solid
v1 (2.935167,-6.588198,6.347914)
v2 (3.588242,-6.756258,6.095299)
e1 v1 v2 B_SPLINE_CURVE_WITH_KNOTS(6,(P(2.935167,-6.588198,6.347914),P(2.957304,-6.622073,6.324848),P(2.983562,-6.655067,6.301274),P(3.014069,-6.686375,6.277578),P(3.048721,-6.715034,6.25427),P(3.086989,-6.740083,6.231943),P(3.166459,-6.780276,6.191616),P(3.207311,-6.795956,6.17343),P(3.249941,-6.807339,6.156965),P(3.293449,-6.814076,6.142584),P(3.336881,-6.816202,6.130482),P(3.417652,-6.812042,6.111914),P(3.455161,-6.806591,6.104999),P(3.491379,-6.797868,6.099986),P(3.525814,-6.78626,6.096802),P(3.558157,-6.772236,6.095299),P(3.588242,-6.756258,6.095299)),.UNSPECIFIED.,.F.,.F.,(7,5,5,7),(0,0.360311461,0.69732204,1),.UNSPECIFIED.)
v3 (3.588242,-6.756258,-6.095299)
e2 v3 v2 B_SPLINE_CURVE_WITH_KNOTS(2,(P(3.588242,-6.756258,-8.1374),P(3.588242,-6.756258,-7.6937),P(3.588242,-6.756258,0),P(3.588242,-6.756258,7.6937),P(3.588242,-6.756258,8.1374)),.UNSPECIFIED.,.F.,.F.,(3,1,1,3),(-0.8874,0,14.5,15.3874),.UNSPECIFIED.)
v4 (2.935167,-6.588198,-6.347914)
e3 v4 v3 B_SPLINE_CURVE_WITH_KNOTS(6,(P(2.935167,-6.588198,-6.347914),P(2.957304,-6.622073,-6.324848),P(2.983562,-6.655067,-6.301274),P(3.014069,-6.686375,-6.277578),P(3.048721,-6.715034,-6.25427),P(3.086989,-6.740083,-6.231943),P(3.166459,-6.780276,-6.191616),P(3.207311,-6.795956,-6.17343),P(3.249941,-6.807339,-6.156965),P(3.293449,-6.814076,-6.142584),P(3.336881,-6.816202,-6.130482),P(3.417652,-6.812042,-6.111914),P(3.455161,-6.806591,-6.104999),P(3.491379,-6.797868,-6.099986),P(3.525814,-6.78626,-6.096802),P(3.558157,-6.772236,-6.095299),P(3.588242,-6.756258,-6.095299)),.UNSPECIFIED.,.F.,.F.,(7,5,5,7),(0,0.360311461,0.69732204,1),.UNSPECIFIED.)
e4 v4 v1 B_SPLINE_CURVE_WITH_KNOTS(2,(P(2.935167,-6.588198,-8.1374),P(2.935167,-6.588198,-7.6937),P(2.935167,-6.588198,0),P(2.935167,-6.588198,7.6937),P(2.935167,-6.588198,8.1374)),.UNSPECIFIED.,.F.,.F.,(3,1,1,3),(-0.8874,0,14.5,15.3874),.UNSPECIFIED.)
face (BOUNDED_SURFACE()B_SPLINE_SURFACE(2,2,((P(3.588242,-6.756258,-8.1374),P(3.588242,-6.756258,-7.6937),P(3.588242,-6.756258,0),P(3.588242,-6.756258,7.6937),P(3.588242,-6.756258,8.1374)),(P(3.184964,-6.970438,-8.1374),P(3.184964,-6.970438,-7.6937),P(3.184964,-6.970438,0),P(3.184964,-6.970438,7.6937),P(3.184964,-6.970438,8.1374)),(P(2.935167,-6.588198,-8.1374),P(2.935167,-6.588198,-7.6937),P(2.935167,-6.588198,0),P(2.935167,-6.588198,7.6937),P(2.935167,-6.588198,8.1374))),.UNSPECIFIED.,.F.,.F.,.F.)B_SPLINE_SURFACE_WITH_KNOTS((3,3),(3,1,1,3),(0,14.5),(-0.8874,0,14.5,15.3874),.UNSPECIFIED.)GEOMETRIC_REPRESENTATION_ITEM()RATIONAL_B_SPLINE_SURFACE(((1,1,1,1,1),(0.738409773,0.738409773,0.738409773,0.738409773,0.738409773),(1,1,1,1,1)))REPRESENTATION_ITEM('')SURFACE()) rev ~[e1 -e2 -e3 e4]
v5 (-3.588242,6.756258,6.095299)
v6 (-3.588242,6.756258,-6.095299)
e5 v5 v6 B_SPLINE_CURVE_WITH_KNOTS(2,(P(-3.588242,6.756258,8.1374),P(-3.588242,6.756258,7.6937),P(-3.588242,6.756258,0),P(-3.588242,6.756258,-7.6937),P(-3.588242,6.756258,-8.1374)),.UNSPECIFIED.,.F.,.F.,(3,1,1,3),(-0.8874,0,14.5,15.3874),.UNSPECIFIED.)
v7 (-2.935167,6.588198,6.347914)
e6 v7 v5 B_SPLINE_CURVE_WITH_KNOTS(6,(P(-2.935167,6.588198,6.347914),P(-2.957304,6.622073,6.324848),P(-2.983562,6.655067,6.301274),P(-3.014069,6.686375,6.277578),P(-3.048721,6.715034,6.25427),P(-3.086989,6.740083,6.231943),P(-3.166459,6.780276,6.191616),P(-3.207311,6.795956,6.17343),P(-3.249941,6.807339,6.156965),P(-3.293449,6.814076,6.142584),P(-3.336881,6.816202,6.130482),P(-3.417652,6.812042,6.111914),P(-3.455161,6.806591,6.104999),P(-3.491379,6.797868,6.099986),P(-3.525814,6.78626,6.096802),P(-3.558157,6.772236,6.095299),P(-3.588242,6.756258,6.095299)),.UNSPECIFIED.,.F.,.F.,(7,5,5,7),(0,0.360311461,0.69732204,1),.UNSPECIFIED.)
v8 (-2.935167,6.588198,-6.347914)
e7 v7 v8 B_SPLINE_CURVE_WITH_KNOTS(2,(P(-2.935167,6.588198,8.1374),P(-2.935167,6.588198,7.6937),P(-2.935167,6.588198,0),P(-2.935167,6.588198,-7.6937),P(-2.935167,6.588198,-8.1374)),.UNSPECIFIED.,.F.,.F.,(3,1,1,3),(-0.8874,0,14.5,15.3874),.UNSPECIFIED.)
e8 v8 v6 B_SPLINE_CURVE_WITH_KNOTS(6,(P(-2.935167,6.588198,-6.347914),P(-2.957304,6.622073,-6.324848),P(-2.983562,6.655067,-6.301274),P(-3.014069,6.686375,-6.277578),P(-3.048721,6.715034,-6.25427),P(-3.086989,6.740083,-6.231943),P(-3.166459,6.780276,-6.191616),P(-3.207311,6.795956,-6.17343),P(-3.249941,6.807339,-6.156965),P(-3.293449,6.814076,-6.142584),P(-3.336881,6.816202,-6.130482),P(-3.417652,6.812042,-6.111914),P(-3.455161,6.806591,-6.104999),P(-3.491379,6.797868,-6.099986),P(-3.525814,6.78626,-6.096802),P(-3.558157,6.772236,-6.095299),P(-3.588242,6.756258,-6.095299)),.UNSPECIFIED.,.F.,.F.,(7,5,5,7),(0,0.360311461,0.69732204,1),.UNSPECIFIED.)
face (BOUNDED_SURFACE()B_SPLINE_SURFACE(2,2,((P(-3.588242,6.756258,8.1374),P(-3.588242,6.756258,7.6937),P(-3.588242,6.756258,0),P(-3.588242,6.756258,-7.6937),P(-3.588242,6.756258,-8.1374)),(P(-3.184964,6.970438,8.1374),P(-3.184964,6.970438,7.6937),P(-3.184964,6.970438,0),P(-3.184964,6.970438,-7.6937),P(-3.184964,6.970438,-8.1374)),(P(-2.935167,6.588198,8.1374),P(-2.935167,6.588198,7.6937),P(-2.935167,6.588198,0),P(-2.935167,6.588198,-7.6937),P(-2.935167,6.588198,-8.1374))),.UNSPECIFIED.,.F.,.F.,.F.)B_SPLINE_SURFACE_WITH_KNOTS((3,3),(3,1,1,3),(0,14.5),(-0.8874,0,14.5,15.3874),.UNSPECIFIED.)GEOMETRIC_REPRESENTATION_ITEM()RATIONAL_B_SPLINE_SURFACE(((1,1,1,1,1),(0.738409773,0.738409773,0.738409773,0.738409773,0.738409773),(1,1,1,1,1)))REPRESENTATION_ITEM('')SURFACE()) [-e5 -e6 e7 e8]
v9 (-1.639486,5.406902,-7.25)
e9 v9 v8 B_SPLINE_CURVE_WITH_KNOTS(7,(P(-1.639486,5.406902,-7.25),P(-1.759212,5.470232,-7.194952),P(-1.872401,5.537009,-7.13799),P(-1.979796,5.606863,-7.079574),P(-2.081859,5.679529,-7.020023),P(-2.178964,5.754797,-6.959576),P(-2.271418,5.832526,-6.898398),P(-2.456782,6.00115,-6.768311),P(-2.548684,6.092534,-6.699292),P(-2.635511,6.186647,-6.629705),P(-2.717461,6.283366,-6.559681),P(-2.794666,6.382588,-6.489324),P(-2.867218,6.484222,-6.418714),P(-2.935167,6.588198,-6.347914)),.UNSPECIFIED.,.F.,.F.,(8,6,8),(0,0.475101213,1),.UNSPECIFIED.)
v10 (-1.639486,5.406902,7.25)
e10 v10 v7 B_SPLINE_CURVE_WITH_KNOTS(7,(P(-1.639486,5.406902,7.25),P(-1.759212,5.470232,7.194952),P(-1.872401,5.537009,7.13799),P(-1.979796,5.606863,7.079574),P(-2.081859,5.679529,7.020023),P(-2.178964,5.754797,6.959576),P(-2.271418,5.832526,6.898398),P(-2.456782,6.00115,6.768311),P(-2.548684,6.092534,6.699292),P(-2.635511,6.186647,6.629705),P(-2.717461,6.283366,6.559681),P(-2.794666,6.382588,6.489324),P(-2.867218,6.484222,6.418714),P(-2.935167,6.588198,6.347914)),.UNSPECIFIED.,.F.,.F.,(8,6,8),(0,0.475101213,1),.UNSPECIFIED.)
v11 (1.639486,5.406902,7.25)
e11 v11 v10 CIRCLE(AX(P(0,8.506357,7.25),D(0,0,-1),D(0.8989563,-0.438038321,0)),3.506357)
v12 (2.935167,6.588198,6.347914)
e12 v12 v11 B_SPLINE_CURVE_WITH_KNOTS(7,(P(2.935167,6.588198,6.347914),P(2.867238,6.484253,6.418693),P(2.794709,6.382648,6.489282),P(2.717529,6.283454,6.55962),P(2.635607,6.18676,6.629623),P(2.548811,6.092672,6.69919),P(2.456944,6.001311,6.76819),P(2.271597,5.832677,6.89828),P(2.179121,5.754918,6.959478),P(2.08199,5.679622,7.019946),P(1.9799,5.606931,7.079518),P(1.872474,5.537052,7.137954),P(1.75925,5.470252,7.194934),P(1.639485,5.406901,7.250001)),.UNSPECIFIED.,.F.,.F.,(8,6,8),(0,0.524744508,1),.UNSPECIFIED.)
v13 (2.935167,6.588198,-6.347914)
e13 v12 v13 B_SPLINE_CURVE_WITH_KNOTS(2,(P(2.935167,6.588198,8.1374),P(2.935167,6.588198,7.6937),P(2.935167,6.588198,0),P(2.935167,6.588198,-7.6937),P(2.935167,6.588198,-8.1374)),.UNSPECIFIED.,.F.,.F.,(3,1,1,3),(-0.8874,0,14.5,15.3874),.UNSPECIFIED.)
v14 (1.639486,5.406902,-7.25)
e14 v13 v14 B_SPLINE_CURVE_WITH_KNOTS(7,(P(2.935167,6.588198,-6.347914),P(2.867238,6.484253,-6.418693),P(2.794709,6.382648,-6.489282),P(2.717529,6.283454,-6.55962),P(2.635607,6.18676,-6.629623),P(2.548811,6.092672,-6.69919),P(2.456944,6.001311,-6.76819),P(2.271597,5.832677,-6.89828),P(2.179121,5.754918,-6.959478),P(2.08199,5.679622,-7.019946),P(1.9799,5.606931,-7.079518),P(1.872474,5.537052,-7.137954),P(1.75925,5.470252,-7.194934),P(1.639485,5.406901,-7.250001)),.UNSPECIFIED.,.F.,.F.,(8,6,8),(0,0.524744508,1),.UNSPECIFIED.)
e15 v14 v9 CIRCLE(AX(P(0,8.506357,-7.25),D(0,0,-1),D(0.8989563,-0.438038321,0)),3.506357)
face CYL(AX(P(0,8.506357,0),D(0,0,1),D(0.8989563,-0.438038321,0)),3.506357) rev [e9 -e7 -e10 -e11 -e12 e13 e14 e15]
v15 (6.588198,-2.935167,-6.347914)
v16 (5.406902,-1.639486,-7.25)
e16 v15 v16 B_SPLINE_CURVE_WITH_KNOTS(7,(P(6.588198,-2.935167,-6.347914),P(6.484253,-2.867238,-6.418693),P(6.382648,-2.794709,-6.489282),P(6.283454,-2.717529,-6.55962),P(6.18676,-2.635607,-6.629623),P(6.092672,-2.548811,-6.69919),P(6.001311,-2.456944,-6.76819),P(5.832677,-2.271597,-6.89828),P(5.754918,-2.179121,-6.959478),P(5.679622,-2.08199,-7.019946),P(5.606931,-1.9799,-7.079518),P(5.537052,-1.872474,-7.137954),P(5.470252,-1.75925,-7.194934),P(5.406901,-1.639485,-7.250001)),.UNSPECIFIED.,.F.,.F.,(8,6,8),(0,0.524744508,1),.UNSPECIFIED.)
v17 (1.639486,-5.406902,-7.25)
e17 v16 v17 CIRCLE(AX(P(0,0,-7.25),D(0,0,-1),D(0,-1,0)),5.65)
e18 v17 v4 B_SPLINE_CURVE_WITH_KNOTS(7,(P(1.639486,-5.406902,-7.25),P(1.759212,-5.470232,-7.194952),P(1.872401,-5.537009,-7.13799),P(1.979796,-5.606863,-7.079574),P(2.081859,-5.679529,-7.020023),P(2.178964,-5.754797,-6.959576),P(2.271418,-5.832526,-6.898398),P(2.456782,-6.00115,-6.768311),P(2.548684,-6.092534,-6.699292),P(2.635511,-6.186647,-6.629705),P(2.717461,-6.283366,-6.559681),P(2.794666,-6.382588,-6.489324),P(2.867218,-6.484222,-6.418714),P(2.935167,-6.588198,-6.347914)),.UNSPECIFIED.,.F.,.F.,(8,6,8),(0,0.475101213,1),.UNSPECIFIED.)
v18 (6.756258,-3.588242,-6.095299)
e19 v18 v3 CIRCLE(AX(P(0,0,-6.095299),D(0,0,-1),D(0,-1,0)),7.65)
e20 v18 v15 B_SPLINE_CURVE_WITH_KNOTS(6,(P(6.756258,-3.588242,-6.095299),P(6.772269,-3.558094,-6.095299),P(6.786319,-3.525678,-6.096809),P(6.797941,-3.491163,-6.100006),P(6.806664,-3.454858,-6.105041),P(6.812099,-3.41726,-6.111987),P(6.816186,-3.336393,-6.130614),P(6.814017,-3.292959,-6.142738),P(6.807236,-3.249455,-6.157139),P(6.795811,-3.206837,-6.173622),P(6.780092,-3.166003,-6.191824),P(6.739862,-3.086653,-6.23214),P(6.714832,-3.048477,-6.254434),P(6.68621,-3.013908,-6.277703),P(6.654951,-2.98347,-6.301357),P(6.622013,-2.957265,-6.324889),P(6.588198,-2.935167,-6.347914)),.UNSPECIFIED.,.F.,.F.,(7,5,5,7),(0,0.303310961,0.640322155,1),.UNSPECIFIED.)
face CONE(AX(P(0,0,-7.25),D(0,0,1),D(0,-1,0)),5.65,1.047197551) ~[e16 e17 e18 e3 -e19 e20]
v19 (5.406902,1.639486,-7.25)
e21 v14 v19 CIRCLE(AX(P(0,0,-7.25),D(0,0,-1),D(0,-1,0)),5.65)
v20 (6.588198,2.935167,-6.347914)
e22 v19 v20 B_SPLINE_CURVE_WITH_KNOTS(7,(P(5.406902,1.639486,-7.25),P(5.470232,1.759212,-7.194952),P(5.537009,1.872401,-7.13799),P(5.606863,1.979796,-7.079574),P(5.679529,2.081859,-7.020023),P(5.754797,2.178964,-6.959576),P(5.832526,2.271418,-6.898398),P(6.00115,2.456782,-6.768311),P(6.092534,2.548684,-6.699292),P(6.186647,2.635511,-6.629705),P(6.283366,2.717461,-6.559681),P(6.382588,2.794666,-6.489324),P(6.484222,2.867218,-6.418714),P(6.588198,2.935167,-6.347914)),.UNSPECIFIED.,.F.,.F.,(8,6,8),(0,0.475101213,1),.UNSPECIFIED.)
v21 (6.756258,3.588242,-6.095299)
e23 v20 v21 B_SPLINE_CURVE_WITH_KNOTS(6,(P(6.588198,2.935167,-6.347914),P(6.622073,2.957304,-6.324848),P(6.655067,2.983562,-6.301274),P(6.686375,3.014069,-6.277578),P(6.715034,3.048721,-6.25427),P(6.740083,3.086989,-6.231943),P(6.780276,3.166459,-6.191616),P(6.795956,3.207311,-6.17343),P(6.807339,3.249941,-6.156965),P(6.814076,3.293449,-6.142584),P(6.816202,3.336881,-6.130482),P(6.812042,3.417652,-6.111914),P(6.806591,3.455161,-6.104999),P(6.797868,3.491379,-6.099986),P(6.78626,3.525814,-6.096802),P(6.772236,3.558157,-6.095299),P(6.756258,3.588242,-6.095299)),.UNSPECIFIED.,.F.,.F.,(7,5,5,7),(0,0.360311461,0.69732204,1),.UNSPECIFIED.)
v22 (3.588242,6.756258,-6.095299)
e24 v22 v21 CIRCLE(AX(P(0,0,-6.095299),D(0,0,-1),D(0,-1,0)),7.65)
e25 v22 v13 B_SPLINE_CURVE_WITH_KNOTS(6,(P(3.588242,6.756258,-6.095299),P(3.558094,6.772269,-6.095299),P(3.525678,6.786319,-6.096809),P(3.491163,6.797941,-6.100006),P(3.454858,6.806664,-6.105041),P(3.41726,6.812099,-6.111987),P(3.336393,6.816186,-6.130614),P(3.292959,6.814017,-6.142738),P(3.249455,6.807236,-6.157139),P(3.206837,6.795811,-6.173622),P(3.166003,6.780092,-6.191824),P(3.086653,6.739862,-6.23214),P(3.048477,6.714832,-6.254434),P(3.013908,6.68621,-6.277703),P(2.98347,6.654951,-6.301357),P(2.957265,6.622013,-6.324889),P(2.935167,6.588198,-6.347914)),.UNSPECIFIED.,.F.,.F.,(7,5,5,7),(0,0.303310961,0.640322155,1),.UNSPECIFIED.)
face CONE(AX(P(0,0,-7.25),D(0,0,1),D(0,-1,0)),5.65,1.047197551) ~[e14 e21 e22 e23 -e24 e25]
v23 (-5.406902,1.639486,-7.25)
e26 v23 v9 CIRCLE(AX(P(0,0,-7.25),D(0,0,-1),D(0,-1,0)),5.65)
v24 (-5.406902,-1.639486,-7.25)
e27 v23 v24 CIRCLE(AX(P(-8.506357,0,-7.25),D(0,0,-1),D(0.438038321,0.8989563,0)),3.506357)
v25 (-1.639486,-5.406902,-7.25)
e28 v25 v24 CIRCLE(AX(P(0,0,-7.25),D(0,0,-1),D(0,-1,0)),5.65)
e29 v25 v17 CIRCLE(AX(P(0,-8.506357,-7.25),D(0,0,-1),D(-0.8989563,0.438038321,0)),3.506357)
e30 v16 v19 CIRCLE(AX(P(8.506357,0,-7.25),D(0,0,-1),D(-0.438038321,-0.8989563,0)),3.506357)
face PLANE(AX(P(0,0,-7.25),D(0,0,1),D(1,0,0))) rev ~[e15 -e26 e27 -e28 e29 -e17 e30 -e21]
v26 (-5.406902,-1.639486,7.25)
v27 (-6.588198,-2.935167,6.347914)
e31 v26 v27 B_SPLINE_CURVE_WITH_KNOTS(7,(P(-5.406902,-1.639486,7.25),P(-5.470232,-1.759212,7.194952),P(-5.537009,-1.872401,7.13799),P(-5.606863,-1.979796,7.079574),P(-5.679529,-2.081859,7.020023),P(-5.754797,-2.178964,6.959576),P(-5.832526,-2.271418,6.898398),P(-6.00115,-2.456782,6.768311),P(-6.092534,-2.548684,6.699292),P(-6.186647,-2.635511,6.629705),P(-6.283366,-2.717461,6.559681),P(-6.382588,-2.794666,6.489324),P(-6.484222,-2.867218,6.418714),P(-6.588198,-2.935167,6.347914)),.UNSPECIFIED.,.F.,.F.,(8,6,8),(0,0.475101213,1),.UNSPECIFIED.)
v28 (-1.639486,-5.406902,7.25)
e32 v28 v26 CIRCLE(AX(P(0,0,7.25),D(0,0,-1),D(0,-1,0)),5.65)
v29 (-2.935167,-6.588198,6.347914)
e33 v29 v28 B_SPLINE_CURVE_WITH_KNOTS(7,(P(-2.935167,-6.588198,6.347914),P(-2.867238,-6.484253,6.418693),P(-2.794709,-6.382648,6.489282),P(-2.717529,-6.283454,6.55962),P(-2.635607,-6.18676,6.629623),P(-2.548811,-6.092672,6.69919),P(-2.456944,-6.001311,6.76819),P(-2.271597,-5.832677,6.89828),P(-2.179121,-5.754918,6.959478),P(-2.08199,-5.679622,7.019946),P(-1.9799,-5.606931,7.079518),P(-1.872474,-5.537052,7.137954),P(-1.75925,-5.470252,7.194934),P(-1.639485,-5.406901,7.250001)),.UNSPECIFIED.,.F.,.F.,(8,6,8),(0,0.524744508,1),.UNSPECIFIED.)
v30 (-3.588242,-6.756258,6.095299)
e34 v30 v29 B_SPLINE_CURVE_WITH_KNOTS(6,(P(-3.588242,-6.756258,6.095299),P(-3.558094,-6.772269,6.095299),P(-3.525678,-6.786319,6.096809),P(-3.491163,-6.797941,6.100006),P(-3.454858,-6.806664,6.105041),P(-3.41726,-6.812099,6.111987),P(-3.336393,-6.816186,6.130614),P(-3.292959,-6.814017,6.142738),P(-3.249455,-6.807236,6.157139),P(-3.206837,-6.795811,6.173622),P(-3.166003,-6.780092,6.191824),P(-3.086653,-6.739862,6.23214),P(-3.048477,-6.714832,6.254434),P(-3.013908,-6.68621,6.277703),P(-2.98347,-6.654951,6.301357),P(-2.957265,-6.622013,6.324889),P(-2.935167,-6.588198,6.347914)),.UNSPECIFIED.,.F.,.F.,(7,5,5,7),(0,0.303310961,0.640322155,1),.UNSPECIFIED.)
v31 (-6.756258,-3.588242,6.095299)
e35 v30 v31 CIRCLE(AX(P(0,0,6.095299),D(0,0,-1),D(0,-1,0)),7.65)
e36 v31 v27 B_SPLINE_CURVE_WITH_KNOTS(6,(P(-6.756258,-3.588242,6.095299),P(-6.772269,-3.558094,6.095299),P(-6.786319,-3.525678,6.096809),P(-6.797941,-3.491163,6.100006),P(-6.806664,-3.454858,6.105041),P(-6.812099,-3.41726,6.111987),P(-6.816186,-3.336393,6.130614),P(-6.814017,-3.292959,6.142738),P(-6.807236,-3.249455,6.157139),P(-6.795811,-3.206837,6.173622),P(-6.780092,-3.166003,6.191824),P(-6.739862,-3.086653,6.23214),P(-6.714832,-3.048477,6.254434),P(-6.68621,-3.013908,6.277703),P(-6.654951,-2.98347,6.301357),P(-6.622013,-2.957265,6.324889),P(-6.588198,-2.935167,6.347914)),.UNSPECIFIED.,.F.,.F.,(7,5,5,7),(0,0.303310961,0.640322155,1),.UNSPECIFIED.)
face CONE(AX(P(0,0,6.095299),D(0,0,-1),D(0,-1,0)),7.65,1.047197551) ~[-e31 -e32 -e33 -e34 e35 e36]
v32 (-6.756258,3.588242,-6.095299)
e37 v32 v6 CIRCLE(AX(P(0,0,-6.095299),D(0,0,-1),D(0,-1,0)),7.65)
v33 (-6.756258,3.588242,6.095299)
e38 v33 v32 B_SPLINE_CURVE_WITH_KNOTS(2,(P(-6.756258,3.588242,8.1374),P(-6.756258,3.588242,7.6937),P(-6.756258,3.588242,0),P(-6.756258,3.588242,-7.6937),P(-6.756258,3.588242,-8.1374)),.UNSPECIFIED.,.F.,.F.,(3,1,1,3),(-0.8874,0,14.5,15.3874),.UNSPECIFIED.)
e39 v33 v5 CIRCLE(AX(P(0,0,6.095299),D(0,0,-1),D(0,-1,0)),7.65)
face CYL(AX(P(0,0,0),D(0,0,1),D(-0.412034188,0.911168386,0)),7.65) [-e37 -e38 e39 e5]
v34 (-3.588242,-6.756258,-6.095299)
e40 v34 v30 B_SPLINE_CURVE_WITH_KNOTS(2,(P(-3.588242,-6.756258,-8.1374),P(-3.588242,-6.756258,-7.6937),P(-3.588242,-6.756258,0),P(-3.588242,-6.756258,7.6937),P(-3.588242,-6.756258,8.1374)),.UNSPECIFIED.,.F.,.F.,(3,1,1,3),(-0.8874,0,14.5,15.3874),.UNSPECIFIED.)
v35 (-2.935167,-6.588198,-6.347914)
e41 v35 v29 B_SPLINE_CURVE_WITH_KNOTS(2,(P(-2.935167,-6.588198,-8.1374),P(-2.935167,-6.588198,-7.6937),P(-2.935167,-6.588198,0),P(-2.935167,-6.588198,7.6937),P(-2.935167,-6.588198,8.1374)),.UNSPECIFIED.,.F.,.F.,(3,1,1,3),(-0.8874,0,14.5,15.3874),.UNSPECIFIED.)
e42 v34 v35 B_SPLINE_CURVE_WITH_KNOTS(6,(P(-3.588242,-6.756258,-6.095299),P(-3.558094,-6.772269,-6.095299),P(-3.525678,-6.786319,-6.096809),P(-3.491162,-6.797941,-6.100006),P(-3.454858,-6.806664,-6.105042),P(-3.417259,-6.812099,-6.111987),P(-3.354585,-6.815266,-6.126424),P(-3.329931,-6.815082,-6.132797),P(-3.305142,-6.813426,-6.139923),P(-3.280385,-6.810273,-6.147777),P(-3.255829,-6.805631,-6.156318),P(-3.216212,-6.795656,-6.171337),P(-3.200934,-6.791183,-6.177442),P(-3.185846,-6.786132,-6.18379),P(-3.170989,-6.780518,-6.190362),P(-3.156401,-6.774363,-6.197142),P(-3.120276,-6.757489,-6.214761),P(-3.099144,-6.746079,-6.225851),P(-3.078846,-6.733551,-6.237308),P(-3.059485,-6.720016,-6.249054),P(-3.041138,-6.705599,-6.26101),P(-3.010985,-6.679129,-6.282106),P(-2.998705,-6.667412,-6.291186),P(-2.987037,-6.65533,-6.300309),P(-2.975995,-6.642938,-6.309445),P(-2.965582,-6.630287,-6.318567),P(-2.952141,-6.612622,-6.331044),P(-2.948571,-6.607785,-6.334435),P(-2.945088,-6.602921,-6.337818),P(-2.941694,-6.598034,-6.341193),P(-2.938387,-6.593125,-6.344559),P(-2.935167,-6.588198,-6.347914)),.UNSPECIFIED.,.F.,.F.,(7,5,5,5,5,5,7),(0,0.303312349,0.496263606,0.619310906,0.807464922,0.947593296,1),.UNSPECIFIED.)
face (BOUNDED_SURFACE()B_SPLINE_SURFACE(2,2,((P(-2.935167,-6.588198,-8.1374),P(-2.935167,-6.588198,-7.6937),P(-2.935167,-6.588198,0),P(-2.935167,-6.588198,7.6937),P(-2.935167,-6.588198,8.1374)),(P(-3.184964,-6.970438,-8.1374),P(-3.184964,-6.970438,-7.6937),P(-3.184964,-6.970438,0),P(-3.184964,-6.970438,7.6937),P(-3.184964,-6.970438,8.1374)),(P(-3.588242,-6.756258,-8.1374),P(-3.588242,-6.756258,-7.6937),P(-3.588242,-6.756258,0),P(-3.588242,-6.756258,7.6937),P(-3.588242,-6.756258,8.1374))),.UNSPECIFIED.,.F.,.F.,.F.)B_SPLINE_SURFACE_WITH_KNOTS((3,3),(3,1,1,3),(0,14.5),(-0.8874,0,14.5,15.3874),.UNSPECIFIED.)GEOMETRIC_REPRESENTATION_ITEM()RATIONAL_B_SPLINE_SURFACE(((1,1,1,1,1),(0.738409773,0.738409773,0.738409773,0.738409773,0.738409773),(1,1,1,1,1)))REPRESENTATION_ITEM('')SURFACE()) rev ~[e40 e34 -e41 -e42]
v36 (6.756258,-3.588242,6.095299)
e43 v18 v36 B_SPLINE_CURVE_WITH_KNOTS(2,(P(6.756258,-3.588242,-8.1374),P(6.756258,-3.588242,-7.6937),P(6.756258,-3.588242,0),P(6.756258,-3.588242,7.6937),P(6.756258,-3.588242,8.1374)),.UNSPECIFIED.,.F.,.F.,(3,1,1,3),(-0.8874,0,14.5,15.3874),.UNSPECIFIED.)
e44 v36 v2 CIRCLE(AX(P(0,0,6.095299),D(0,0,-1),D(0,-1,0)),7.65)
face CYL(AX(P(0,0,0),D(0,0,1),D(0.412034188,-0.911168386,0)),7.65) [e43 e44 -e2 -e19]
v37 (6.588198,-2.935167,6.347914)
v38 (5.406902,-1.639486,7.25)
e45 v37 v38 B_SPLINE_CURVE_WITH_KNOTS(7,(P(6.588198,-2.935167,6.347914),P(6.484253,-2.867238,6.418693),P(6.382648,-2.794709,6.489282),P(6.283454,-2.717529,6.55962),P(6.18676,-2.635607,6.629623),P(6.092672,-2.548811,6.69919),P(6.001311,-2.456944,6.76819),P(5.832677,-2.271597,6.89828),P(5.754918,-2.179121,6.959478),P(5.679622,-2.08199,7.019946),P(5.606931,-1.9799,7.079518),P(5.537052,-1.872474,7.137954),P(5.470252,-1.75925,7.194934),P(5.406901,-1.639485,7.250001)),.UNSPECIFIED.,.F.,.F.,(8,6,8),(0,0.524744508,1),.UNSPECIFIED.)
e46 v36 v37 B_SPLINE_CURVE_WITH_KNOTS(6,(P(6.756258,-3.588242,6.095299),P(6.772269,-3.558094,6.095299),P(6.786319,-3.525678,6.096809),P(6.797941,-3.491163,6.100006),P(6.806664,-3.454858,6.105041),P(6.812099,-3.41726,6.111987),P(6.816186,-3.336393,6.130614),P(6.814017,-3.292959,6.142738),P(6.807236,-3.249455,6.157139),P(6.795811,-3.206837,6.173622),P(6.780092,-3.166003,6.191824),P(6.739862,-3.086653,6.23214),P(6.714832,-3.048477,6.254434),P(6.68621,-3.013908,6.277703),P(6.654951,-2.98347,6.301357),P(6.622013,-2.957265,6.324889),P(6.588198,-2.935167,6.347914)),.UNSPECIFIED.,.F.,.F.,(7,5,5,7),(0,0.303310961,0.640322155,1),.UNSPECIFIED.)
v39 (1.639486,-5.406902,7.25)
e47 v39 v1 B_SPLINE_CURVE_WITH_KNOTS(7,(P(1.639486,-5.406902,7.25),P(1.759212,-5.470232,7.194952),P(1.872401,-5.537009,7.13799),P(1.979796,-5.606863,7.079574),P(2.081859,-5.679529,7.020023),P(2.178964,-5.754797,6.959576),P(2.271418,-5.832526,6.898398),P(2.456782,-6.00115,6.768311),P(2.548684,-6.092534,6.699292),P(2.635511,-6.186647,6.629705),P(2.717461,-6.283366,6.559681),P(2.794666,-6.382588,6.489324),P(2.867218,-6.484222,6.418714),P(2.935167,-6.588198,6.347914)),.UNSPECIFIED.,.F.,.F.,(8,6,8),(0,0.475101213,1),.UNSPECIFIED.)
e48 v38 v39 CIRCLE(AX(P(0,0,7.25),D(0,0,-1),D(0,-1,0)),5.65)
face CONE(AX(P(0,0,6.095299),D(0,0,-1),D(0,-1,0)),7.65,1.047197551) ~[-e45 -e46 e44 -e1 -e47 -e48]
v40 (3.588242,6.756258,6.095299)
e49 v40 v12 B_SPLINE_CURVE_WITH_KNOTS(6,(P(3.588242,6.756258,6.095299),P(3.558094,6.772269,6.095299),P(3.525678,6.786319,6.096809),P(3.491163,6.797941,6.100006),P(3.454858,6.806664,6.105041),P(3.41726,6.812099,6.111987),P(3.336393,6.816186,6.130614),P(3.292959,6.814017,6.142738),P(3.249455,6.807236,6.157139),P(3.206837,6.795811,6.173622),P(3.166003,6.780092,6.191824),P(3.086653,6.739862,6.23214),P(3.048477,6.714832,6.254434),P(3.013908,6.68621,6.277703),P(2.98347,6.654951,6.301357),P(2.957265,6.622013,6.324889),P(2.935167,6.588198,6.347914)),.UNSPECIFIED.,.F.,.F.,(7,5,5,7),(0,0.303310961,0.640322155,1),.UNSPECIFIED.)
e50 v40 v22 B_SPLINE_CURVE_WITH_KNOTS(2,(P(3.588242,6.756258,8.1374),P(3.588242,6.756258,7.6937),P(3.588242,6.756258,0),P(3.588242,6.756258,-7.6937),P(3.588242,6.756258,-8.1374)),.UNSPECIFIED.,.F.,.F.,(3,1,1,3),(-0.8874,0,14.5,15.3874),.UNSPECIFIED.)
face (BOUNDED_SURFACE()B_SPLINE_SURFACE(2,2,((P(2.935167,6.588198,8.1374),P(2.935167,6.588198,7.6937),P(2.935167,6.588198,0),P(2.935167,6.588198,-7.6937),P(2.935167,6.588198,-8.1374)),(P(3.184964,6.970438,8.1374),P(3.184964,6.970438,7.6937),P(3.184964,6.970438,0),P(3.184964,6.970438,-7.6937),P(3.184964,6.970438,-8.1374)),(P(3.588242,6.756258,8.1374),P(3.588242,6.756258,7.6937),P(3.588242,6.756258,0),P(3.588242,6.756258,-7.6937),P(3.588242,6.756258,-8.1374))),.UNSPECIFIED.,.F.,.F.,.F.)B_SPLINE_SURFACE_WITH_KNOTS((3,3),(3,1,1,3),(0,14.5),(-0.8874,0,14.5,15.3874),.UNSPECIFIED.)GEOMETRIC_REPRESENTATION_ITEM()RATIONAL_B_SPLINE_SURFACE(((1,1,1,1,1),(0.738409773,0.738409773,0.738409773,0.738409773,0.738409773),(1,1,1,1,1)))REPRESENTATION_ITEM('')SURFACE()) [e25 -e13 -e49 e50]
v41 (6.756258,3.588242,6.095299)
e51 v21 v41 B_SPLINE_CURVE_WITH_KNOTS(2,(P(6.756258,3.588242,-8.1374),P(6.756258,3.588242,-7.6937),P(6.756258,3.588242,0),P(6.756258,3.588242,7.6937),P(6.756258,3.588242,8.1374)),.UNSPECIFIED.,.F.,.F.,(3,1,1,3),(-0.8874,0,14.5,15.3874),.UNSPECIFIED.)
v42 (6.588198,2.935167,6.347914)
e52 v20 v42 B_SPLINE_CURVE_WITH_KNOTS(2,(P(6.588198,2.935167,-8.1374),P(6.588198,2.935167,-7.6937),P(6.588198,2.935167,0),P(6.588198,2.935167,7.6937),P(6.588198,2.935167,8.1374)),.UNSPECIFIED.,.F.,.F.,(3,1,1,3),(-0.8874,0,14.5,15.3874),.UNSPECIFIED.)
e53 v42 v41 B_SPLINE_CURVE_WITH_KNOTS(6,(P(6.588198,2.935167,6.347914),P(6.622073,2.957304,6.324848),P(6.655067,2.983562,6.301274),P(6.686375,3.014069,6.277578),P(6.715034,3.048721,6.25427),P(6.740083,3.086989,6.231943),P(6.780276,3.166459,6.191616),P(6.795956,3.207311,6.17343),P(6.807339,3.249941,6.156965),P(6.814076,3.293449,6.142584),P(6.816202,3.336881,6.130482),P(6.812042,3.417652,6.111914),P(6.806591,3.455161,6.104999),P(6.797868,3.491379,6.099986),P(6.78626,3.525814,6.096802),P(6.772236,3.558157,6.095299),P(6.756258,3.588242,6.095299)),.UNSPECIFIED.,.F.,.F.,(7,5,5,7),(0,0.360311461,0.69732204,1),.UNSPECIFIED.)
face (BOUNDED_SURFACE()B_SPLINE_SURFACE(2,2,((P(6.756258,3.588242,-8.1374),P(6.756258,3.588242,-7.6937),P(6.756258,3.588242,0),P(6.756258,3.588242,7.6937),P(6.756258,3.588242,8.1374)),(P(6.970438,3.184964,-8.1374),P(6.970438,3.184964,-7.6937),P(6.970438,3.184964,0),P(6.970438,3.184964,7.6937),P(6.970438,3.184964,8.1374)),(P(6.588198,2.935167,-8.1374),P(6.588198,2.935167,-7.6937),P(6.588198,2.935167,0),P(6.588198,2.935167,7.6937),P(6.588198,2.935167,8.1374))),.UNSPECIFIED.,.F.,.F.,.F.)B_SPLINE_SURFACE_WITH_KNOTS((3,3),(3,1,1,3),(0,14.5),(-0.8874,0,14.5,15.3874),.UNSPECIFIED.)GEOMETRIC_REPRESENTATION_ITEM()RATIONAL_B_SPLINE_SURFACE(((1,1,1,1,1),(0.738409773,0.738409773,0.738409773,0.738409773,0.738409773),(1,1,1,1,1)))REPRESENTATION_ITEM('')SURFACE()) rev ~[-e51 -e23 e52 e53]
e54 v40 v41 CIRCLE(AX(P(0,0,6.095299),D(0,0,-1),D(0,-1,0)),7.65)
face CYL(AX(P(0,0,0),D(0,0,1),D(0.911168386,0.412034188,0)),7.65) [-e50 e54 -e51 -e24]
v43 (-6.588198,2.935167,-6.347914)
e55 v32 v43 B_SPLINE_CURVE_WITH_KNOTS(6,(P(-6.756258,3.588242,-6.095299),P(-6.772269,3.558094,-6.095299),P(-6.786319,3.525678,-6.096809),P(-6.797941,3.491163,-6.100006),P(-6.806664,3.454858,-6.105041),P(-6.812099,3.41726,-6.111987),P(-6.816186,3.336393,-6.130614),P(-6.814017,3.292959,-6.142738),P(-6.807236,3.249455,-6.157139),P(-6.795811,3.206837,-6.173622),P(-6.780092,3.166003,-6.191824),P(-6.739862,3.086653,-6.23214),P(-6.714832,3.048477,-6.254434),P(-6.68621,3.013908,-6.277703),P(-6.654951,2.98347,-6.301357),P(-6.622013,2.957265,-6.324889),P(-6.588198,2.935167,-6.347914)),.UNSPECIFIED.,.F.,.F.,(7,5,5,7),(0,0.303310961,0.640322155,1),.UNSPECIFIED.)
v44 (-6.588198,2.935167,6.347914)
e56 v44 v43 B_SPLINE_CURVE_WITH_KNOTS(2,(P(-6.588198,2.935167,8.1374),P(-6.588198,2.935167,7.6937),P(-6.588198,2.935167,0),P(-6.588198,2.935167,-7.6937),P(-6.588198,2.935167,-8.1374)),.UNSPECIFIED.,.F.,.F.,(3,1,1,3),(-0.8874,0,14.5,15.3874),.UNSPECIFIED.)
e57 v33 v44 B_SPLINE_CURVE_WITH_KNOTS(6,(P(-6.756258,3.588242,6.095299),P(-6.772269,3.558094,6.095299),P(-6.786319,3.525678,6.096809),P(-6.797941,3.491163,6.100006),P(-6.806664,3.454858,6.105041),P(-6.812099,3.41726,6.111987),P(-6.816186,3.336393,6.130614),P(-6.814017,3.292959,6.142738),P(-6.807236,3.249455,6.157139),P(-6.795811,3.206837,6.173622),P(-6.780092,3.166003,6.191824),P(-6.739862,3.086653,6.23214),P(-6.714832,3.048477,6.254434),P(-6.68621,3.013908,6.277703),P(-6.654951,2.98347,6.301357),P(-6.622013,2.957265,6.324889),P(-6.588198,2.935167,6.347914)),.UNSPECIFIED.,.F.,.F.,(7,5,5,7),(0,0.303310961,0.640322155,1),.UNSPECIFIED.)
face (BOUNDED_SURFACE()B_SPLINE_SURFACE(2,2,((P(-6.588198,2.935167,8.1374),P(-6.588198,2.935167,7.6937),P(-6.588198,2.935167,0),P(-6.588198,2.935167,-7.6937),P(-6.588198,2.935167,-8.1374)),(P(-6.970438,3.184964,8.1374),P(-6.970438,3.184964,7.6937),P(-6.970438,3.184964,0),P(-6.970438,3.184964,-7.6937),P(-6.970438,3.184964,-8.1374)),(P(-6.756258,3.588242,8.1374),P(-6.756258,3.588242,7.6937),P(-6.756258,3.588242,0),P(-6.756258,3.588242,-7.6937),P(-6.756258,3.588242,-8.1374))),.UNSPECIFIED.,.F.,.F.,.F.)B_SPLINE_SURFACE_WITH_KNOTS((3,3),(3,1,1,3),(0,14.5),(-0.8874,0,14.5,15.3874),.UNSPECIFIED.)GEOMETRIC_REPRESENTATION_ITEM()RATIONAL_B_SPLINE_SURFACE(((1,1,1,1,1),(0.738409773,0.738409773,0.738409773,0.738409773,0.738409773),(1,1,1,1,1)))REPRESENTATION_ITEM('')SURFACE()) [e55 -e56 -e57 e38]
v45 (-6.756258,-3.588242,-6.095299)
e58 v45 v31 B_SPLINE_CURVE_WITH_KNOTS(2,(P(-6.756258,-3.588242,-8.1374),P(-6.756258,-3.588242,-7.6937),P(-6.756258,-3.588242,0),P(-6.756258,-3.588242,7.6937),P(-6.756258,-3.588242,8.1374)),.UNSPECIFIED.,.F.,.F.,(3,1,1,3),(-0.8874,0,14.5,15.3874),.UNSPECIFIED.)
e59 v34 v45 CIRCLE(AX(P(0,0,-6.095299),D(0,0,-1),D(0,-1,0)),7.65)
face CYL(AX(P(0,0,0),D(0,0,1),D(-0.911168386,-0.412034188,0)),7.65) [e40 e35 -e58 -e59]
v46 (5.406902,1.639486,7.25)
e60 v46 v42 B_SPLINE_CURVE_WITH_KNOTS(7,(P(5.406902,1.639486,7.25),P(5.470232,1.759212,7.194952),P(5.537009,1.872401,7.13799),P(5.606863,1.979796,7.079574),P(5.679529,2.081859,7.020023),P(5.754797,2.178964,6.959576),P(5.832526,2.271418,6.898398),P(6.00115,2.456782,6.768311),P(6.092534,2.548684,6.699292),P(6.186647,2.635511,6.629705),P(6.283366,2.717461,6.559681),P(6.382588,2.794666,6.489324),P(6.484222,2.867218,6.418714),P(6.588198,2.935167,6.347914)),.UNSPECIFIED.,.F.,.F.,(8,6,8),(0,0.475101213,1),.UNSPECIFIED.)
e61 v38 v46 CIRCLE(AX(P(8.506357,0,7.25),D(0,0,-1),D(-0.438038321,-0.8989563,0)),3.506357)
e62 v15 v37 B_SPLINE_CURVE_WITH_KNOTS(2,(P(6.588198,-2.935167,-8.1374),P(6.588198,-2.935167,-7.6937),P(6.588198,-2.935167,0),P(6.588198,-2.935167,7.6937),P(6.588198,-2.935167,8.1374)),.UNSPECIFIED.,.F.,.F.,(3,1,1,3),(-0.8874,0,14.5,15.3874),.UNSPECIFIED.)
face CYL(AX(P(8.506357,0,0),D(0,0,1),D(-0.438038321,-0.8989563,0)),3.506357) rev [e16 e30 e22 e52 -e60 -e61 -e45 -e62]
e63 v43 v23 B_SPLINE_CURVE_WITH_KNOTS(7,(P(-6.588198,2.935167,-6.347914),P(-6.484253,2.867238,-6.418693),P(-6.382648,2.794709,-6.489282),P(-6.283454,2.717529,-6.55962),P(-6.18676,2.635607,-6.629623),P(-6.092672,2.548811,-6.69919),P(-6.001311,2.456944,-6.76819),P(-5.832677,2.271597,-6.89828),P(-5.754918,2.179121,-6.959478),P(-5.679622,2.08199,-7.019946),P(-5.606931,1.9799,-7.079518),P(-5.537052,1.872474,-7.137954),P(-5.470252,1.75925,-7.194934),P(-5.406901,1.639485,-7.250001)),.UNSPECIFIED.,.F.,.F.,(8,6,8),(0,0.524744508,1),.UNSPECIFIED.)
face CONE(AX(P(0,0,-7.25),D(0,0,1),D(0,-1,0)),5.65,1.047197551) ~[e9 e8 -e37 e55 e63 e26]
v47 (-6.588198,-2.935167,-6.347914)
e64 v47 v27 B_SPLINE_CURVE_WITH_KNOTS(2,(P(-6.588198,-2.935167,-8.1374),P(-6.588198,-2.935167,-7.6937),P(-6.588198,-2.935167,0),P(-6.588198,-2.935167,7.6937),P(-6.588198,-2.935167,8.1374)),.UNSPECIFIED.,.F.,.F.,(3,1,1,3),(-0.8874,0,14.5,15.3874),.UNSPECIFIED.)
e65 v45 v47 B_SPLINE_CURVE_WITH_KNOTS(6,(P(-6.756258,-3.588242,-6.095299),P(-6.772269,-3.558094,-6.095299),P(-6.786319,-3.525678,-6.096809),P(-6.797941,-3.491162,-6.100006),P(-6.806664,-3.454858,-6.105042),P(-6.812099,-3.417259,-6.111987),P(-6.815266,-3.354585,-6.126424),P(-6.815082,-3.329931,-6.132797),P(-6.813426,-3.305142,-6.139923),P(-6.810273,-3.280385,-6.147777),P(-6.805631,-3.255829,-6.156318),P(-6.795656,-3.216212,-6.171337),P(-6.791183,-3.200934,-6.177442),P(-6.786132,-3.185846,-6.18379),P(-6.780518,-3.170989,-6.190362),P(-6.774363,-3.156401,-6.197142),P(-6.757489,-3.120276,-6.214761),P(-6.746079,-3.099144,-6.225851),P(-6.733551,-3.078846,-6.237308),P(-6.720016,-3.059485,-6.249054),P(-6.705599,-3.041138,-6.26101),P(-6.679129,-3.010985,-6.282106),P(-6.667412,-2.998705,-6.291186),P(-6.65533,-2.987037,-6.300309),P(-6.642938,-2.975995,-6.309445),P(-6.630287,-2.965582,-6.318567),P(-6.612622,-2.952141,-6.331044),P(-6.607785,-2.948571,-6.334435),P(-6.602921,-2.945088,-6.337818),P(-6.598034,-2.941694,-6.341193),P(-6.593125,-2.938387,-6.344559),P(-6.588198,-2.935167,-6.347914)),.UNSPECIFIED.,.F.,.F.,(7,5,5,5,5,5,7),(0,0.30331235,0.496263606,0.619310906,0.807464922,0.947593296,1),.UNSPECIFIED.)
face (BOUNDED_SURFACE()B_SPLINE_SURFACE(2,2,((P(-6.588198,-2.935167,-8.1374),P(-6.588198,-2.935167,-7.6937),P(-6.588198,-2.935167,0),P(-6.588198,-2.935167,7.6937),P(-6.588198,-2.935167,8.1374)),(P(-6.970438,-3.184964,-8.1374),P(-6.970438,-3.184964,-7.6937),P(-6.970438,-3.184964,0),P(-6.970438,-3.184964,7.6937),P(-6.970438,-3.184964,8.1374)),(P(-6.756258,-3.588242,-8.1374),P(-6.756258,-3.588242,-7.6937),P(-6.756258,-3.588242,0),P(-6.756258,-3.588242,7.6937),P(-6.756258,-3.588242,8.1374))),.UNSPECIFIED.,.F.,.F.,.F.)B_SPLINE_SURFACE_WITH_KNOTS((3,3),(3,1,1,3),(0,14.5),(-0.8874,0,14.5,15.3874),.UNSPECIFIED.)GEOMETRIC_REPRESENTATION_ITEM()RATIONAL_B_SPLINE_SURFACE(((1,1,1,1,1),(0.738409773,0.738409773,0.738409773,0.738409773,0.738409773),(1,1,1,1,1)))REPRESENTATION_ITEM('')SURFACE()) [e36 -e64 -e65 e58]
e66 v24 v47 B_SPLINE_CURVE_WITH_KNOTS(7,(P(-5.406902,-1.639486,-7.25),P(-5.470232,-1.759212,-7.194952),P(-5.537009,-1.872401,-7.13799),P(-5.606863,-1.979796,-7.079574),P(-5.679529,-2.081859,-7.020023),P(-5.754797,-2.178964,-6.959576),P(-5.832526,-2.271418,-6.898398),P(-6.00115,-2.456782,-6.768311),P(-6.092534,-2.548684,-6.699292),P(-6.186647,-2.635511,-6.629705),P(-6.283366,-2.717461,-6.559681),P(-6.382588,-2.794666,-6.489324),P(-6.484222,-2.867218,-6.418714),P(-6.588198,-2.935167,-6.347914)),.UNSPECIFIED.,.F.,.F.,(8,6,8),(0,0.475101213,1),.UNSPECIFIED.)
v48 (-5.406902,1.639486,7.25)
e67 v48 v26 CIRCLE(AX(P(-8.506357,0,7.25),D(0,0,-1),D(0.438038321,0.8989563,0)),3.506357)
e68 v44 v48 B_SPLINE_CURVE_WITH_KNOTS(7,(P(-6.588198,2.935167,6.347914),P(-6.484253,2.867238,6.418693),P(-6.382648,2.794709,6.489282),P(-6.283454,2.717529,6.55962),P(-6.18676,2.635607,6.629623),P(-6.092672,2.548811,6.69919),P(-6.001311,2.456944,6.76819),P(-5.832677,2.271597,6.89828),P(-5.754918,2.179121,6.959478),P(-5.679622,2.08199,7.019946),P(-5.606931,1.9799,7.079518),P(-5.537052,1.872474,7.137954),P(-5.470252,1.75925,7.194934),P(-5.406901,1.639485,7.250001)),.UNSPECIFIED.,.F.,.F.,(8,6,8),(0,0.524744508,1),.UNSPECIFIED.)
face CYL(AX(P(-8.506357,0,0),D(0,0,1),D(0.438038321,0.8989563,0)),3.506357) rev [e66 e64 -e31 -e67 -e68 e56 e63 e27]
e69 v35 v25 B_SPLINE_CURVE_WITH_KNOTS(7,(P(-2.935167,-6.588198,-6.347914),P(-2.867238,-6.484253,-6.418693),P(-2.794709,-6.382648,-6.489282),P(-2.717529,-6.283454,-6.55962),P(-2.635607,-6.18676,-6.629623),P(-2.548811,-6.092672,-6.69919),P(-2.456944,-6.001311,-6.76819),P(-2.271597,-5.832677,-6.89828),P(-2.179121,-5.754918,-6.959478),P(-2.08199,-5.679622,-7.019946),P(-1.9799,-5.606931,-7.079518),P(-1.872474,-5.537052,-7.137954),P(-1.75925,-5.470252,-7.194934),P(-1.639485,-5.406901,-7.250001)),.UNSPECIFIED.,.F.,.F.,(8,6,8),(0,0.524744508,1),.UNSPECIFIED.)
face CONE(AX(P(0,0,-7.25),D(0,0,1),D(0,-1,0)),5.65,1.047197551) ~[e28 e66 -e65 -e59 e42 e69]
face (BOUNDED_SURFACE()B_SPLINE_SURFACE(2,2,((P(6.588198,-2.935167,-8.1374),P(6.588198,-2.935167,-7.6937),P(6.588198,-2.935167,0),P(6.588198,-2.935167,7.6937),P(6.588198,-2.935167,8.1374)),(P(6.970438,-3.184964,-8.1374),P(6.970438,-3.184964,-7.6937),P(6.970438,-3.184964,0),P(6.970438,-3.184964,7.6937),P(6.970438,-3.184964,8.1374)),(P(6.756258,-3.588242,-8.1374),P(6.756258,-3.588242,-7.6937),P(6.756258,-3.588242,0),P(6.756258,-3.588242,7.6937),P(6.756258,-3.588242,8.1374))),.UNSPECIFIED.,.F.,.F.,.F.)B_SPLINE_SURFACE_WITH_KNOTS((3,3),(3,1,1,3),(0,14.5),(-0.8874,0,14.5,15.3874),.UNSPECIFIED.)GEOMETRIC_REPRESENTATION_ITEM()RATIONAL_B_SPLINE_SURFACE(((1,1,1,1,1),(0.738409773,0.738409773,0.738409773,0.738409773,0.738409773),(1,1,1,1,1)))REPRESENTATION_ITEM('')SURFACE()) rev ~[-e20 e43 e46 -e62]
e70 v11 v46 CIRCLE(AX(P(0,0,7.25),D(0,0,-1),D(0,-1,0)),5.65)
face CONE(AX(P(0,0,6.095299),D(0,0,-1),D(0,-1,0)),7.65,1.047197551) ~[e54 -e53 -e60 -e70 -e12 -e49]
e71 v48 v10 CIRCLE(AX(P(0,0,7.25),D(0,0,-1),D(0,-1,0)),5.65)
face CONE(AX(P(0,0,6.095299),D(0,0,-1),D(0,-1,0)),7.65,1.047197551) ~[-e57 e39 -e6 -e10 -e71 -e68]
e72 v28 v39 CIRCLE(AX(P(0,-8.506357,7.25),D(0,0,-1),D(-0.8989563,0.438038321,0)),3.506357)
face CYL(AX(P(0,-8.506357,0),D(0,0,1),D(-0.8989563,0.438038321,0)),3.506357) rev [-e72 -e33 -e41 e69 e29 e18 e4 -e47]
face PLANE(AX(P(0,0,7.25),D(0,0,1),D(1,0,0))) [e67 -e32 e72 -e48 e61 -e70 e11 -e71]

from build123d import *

# Parameters (mm, degrees)
F1_DEPTH = 7.25
F2_R     = 0.5


with BuildPart() as f1:
    # F0 (on Top) → F1 (new body, symmetric)
    with BuildSketch(Plane.XY):
        with BuildLine():
            ThreePointArc((-6.9704381548, 3.1520615364), (-5, 0), (-6.9704381548, -3.1520615364))
            ThreePointArc((-6.9704381548, -3.1520615364), (-5.4093668761, -5.4093668761), (-3.1520615364, -6.9704381548))
            ThreePointArc((-3.1520615364, -6.9704381548), (0, -5), (3.1520615364, -6.9704381548))
            ThreePointArc((3.1520615364, -6.9704381548), (5.4093668761, -5.4093668761), (6.9704381548, -3.1520615364))
            ThreePointArc((6.9704381548, -3.1520615364), (5, 0), (6.9704381548, 3.1520615364))
            ThreePointArc((6.9704381548, 3.1520615364), (5.4093668761, 5.4093668761), (3.1520615364, 6.9704381548))
            ThreePointArc((3.1520615364, 6.9704381548), (0, 5), (-3.1520615364, 6.9704381548))
            ThreePointArc((-3.1520615364, 6.9704381548), (-5.4093668761, 5.4093668761), (-6.9704381548, 3.1520615364))
        make_face()
    extrude(amount=F1_DEPTH, both=True)

    # F2
    f2_edges = [f1.edges().sort_by_distance(p)[0] for p in [
        (-3.152062, 6.970438, 0),
        (-6.970438, 3.152062, 0),
        (-6.970438, -3.152062, 0),
        (-3.152062, -6.970438, 0),
        (3.152062, -6.970438, 0),
        (6.970438, -3.152062, 0),
        (6.970438, 3.152062, 0),
        (3.152062, 6.970438, 0),
    ]]
    fillet(f2_edges, radius=F2_R)

    # F3 (on Right) → F4 (revolve, cut)
    with BuildSketch(Plane.YZ):
        Polygon((-7.65, 6.0952994616), (-5.65, 7.25), (-7.65, 7.25), align=None)
        Polygon((-5.65, -7.25), (-7.65, -6.0952994616), (-7.65, -7.25), align=None)
    revolve(axis=Axis((0, 0, 0.0045555644), (0, 0, -1)), mode=Mode.SUBTRACT)


solid = f1.part
